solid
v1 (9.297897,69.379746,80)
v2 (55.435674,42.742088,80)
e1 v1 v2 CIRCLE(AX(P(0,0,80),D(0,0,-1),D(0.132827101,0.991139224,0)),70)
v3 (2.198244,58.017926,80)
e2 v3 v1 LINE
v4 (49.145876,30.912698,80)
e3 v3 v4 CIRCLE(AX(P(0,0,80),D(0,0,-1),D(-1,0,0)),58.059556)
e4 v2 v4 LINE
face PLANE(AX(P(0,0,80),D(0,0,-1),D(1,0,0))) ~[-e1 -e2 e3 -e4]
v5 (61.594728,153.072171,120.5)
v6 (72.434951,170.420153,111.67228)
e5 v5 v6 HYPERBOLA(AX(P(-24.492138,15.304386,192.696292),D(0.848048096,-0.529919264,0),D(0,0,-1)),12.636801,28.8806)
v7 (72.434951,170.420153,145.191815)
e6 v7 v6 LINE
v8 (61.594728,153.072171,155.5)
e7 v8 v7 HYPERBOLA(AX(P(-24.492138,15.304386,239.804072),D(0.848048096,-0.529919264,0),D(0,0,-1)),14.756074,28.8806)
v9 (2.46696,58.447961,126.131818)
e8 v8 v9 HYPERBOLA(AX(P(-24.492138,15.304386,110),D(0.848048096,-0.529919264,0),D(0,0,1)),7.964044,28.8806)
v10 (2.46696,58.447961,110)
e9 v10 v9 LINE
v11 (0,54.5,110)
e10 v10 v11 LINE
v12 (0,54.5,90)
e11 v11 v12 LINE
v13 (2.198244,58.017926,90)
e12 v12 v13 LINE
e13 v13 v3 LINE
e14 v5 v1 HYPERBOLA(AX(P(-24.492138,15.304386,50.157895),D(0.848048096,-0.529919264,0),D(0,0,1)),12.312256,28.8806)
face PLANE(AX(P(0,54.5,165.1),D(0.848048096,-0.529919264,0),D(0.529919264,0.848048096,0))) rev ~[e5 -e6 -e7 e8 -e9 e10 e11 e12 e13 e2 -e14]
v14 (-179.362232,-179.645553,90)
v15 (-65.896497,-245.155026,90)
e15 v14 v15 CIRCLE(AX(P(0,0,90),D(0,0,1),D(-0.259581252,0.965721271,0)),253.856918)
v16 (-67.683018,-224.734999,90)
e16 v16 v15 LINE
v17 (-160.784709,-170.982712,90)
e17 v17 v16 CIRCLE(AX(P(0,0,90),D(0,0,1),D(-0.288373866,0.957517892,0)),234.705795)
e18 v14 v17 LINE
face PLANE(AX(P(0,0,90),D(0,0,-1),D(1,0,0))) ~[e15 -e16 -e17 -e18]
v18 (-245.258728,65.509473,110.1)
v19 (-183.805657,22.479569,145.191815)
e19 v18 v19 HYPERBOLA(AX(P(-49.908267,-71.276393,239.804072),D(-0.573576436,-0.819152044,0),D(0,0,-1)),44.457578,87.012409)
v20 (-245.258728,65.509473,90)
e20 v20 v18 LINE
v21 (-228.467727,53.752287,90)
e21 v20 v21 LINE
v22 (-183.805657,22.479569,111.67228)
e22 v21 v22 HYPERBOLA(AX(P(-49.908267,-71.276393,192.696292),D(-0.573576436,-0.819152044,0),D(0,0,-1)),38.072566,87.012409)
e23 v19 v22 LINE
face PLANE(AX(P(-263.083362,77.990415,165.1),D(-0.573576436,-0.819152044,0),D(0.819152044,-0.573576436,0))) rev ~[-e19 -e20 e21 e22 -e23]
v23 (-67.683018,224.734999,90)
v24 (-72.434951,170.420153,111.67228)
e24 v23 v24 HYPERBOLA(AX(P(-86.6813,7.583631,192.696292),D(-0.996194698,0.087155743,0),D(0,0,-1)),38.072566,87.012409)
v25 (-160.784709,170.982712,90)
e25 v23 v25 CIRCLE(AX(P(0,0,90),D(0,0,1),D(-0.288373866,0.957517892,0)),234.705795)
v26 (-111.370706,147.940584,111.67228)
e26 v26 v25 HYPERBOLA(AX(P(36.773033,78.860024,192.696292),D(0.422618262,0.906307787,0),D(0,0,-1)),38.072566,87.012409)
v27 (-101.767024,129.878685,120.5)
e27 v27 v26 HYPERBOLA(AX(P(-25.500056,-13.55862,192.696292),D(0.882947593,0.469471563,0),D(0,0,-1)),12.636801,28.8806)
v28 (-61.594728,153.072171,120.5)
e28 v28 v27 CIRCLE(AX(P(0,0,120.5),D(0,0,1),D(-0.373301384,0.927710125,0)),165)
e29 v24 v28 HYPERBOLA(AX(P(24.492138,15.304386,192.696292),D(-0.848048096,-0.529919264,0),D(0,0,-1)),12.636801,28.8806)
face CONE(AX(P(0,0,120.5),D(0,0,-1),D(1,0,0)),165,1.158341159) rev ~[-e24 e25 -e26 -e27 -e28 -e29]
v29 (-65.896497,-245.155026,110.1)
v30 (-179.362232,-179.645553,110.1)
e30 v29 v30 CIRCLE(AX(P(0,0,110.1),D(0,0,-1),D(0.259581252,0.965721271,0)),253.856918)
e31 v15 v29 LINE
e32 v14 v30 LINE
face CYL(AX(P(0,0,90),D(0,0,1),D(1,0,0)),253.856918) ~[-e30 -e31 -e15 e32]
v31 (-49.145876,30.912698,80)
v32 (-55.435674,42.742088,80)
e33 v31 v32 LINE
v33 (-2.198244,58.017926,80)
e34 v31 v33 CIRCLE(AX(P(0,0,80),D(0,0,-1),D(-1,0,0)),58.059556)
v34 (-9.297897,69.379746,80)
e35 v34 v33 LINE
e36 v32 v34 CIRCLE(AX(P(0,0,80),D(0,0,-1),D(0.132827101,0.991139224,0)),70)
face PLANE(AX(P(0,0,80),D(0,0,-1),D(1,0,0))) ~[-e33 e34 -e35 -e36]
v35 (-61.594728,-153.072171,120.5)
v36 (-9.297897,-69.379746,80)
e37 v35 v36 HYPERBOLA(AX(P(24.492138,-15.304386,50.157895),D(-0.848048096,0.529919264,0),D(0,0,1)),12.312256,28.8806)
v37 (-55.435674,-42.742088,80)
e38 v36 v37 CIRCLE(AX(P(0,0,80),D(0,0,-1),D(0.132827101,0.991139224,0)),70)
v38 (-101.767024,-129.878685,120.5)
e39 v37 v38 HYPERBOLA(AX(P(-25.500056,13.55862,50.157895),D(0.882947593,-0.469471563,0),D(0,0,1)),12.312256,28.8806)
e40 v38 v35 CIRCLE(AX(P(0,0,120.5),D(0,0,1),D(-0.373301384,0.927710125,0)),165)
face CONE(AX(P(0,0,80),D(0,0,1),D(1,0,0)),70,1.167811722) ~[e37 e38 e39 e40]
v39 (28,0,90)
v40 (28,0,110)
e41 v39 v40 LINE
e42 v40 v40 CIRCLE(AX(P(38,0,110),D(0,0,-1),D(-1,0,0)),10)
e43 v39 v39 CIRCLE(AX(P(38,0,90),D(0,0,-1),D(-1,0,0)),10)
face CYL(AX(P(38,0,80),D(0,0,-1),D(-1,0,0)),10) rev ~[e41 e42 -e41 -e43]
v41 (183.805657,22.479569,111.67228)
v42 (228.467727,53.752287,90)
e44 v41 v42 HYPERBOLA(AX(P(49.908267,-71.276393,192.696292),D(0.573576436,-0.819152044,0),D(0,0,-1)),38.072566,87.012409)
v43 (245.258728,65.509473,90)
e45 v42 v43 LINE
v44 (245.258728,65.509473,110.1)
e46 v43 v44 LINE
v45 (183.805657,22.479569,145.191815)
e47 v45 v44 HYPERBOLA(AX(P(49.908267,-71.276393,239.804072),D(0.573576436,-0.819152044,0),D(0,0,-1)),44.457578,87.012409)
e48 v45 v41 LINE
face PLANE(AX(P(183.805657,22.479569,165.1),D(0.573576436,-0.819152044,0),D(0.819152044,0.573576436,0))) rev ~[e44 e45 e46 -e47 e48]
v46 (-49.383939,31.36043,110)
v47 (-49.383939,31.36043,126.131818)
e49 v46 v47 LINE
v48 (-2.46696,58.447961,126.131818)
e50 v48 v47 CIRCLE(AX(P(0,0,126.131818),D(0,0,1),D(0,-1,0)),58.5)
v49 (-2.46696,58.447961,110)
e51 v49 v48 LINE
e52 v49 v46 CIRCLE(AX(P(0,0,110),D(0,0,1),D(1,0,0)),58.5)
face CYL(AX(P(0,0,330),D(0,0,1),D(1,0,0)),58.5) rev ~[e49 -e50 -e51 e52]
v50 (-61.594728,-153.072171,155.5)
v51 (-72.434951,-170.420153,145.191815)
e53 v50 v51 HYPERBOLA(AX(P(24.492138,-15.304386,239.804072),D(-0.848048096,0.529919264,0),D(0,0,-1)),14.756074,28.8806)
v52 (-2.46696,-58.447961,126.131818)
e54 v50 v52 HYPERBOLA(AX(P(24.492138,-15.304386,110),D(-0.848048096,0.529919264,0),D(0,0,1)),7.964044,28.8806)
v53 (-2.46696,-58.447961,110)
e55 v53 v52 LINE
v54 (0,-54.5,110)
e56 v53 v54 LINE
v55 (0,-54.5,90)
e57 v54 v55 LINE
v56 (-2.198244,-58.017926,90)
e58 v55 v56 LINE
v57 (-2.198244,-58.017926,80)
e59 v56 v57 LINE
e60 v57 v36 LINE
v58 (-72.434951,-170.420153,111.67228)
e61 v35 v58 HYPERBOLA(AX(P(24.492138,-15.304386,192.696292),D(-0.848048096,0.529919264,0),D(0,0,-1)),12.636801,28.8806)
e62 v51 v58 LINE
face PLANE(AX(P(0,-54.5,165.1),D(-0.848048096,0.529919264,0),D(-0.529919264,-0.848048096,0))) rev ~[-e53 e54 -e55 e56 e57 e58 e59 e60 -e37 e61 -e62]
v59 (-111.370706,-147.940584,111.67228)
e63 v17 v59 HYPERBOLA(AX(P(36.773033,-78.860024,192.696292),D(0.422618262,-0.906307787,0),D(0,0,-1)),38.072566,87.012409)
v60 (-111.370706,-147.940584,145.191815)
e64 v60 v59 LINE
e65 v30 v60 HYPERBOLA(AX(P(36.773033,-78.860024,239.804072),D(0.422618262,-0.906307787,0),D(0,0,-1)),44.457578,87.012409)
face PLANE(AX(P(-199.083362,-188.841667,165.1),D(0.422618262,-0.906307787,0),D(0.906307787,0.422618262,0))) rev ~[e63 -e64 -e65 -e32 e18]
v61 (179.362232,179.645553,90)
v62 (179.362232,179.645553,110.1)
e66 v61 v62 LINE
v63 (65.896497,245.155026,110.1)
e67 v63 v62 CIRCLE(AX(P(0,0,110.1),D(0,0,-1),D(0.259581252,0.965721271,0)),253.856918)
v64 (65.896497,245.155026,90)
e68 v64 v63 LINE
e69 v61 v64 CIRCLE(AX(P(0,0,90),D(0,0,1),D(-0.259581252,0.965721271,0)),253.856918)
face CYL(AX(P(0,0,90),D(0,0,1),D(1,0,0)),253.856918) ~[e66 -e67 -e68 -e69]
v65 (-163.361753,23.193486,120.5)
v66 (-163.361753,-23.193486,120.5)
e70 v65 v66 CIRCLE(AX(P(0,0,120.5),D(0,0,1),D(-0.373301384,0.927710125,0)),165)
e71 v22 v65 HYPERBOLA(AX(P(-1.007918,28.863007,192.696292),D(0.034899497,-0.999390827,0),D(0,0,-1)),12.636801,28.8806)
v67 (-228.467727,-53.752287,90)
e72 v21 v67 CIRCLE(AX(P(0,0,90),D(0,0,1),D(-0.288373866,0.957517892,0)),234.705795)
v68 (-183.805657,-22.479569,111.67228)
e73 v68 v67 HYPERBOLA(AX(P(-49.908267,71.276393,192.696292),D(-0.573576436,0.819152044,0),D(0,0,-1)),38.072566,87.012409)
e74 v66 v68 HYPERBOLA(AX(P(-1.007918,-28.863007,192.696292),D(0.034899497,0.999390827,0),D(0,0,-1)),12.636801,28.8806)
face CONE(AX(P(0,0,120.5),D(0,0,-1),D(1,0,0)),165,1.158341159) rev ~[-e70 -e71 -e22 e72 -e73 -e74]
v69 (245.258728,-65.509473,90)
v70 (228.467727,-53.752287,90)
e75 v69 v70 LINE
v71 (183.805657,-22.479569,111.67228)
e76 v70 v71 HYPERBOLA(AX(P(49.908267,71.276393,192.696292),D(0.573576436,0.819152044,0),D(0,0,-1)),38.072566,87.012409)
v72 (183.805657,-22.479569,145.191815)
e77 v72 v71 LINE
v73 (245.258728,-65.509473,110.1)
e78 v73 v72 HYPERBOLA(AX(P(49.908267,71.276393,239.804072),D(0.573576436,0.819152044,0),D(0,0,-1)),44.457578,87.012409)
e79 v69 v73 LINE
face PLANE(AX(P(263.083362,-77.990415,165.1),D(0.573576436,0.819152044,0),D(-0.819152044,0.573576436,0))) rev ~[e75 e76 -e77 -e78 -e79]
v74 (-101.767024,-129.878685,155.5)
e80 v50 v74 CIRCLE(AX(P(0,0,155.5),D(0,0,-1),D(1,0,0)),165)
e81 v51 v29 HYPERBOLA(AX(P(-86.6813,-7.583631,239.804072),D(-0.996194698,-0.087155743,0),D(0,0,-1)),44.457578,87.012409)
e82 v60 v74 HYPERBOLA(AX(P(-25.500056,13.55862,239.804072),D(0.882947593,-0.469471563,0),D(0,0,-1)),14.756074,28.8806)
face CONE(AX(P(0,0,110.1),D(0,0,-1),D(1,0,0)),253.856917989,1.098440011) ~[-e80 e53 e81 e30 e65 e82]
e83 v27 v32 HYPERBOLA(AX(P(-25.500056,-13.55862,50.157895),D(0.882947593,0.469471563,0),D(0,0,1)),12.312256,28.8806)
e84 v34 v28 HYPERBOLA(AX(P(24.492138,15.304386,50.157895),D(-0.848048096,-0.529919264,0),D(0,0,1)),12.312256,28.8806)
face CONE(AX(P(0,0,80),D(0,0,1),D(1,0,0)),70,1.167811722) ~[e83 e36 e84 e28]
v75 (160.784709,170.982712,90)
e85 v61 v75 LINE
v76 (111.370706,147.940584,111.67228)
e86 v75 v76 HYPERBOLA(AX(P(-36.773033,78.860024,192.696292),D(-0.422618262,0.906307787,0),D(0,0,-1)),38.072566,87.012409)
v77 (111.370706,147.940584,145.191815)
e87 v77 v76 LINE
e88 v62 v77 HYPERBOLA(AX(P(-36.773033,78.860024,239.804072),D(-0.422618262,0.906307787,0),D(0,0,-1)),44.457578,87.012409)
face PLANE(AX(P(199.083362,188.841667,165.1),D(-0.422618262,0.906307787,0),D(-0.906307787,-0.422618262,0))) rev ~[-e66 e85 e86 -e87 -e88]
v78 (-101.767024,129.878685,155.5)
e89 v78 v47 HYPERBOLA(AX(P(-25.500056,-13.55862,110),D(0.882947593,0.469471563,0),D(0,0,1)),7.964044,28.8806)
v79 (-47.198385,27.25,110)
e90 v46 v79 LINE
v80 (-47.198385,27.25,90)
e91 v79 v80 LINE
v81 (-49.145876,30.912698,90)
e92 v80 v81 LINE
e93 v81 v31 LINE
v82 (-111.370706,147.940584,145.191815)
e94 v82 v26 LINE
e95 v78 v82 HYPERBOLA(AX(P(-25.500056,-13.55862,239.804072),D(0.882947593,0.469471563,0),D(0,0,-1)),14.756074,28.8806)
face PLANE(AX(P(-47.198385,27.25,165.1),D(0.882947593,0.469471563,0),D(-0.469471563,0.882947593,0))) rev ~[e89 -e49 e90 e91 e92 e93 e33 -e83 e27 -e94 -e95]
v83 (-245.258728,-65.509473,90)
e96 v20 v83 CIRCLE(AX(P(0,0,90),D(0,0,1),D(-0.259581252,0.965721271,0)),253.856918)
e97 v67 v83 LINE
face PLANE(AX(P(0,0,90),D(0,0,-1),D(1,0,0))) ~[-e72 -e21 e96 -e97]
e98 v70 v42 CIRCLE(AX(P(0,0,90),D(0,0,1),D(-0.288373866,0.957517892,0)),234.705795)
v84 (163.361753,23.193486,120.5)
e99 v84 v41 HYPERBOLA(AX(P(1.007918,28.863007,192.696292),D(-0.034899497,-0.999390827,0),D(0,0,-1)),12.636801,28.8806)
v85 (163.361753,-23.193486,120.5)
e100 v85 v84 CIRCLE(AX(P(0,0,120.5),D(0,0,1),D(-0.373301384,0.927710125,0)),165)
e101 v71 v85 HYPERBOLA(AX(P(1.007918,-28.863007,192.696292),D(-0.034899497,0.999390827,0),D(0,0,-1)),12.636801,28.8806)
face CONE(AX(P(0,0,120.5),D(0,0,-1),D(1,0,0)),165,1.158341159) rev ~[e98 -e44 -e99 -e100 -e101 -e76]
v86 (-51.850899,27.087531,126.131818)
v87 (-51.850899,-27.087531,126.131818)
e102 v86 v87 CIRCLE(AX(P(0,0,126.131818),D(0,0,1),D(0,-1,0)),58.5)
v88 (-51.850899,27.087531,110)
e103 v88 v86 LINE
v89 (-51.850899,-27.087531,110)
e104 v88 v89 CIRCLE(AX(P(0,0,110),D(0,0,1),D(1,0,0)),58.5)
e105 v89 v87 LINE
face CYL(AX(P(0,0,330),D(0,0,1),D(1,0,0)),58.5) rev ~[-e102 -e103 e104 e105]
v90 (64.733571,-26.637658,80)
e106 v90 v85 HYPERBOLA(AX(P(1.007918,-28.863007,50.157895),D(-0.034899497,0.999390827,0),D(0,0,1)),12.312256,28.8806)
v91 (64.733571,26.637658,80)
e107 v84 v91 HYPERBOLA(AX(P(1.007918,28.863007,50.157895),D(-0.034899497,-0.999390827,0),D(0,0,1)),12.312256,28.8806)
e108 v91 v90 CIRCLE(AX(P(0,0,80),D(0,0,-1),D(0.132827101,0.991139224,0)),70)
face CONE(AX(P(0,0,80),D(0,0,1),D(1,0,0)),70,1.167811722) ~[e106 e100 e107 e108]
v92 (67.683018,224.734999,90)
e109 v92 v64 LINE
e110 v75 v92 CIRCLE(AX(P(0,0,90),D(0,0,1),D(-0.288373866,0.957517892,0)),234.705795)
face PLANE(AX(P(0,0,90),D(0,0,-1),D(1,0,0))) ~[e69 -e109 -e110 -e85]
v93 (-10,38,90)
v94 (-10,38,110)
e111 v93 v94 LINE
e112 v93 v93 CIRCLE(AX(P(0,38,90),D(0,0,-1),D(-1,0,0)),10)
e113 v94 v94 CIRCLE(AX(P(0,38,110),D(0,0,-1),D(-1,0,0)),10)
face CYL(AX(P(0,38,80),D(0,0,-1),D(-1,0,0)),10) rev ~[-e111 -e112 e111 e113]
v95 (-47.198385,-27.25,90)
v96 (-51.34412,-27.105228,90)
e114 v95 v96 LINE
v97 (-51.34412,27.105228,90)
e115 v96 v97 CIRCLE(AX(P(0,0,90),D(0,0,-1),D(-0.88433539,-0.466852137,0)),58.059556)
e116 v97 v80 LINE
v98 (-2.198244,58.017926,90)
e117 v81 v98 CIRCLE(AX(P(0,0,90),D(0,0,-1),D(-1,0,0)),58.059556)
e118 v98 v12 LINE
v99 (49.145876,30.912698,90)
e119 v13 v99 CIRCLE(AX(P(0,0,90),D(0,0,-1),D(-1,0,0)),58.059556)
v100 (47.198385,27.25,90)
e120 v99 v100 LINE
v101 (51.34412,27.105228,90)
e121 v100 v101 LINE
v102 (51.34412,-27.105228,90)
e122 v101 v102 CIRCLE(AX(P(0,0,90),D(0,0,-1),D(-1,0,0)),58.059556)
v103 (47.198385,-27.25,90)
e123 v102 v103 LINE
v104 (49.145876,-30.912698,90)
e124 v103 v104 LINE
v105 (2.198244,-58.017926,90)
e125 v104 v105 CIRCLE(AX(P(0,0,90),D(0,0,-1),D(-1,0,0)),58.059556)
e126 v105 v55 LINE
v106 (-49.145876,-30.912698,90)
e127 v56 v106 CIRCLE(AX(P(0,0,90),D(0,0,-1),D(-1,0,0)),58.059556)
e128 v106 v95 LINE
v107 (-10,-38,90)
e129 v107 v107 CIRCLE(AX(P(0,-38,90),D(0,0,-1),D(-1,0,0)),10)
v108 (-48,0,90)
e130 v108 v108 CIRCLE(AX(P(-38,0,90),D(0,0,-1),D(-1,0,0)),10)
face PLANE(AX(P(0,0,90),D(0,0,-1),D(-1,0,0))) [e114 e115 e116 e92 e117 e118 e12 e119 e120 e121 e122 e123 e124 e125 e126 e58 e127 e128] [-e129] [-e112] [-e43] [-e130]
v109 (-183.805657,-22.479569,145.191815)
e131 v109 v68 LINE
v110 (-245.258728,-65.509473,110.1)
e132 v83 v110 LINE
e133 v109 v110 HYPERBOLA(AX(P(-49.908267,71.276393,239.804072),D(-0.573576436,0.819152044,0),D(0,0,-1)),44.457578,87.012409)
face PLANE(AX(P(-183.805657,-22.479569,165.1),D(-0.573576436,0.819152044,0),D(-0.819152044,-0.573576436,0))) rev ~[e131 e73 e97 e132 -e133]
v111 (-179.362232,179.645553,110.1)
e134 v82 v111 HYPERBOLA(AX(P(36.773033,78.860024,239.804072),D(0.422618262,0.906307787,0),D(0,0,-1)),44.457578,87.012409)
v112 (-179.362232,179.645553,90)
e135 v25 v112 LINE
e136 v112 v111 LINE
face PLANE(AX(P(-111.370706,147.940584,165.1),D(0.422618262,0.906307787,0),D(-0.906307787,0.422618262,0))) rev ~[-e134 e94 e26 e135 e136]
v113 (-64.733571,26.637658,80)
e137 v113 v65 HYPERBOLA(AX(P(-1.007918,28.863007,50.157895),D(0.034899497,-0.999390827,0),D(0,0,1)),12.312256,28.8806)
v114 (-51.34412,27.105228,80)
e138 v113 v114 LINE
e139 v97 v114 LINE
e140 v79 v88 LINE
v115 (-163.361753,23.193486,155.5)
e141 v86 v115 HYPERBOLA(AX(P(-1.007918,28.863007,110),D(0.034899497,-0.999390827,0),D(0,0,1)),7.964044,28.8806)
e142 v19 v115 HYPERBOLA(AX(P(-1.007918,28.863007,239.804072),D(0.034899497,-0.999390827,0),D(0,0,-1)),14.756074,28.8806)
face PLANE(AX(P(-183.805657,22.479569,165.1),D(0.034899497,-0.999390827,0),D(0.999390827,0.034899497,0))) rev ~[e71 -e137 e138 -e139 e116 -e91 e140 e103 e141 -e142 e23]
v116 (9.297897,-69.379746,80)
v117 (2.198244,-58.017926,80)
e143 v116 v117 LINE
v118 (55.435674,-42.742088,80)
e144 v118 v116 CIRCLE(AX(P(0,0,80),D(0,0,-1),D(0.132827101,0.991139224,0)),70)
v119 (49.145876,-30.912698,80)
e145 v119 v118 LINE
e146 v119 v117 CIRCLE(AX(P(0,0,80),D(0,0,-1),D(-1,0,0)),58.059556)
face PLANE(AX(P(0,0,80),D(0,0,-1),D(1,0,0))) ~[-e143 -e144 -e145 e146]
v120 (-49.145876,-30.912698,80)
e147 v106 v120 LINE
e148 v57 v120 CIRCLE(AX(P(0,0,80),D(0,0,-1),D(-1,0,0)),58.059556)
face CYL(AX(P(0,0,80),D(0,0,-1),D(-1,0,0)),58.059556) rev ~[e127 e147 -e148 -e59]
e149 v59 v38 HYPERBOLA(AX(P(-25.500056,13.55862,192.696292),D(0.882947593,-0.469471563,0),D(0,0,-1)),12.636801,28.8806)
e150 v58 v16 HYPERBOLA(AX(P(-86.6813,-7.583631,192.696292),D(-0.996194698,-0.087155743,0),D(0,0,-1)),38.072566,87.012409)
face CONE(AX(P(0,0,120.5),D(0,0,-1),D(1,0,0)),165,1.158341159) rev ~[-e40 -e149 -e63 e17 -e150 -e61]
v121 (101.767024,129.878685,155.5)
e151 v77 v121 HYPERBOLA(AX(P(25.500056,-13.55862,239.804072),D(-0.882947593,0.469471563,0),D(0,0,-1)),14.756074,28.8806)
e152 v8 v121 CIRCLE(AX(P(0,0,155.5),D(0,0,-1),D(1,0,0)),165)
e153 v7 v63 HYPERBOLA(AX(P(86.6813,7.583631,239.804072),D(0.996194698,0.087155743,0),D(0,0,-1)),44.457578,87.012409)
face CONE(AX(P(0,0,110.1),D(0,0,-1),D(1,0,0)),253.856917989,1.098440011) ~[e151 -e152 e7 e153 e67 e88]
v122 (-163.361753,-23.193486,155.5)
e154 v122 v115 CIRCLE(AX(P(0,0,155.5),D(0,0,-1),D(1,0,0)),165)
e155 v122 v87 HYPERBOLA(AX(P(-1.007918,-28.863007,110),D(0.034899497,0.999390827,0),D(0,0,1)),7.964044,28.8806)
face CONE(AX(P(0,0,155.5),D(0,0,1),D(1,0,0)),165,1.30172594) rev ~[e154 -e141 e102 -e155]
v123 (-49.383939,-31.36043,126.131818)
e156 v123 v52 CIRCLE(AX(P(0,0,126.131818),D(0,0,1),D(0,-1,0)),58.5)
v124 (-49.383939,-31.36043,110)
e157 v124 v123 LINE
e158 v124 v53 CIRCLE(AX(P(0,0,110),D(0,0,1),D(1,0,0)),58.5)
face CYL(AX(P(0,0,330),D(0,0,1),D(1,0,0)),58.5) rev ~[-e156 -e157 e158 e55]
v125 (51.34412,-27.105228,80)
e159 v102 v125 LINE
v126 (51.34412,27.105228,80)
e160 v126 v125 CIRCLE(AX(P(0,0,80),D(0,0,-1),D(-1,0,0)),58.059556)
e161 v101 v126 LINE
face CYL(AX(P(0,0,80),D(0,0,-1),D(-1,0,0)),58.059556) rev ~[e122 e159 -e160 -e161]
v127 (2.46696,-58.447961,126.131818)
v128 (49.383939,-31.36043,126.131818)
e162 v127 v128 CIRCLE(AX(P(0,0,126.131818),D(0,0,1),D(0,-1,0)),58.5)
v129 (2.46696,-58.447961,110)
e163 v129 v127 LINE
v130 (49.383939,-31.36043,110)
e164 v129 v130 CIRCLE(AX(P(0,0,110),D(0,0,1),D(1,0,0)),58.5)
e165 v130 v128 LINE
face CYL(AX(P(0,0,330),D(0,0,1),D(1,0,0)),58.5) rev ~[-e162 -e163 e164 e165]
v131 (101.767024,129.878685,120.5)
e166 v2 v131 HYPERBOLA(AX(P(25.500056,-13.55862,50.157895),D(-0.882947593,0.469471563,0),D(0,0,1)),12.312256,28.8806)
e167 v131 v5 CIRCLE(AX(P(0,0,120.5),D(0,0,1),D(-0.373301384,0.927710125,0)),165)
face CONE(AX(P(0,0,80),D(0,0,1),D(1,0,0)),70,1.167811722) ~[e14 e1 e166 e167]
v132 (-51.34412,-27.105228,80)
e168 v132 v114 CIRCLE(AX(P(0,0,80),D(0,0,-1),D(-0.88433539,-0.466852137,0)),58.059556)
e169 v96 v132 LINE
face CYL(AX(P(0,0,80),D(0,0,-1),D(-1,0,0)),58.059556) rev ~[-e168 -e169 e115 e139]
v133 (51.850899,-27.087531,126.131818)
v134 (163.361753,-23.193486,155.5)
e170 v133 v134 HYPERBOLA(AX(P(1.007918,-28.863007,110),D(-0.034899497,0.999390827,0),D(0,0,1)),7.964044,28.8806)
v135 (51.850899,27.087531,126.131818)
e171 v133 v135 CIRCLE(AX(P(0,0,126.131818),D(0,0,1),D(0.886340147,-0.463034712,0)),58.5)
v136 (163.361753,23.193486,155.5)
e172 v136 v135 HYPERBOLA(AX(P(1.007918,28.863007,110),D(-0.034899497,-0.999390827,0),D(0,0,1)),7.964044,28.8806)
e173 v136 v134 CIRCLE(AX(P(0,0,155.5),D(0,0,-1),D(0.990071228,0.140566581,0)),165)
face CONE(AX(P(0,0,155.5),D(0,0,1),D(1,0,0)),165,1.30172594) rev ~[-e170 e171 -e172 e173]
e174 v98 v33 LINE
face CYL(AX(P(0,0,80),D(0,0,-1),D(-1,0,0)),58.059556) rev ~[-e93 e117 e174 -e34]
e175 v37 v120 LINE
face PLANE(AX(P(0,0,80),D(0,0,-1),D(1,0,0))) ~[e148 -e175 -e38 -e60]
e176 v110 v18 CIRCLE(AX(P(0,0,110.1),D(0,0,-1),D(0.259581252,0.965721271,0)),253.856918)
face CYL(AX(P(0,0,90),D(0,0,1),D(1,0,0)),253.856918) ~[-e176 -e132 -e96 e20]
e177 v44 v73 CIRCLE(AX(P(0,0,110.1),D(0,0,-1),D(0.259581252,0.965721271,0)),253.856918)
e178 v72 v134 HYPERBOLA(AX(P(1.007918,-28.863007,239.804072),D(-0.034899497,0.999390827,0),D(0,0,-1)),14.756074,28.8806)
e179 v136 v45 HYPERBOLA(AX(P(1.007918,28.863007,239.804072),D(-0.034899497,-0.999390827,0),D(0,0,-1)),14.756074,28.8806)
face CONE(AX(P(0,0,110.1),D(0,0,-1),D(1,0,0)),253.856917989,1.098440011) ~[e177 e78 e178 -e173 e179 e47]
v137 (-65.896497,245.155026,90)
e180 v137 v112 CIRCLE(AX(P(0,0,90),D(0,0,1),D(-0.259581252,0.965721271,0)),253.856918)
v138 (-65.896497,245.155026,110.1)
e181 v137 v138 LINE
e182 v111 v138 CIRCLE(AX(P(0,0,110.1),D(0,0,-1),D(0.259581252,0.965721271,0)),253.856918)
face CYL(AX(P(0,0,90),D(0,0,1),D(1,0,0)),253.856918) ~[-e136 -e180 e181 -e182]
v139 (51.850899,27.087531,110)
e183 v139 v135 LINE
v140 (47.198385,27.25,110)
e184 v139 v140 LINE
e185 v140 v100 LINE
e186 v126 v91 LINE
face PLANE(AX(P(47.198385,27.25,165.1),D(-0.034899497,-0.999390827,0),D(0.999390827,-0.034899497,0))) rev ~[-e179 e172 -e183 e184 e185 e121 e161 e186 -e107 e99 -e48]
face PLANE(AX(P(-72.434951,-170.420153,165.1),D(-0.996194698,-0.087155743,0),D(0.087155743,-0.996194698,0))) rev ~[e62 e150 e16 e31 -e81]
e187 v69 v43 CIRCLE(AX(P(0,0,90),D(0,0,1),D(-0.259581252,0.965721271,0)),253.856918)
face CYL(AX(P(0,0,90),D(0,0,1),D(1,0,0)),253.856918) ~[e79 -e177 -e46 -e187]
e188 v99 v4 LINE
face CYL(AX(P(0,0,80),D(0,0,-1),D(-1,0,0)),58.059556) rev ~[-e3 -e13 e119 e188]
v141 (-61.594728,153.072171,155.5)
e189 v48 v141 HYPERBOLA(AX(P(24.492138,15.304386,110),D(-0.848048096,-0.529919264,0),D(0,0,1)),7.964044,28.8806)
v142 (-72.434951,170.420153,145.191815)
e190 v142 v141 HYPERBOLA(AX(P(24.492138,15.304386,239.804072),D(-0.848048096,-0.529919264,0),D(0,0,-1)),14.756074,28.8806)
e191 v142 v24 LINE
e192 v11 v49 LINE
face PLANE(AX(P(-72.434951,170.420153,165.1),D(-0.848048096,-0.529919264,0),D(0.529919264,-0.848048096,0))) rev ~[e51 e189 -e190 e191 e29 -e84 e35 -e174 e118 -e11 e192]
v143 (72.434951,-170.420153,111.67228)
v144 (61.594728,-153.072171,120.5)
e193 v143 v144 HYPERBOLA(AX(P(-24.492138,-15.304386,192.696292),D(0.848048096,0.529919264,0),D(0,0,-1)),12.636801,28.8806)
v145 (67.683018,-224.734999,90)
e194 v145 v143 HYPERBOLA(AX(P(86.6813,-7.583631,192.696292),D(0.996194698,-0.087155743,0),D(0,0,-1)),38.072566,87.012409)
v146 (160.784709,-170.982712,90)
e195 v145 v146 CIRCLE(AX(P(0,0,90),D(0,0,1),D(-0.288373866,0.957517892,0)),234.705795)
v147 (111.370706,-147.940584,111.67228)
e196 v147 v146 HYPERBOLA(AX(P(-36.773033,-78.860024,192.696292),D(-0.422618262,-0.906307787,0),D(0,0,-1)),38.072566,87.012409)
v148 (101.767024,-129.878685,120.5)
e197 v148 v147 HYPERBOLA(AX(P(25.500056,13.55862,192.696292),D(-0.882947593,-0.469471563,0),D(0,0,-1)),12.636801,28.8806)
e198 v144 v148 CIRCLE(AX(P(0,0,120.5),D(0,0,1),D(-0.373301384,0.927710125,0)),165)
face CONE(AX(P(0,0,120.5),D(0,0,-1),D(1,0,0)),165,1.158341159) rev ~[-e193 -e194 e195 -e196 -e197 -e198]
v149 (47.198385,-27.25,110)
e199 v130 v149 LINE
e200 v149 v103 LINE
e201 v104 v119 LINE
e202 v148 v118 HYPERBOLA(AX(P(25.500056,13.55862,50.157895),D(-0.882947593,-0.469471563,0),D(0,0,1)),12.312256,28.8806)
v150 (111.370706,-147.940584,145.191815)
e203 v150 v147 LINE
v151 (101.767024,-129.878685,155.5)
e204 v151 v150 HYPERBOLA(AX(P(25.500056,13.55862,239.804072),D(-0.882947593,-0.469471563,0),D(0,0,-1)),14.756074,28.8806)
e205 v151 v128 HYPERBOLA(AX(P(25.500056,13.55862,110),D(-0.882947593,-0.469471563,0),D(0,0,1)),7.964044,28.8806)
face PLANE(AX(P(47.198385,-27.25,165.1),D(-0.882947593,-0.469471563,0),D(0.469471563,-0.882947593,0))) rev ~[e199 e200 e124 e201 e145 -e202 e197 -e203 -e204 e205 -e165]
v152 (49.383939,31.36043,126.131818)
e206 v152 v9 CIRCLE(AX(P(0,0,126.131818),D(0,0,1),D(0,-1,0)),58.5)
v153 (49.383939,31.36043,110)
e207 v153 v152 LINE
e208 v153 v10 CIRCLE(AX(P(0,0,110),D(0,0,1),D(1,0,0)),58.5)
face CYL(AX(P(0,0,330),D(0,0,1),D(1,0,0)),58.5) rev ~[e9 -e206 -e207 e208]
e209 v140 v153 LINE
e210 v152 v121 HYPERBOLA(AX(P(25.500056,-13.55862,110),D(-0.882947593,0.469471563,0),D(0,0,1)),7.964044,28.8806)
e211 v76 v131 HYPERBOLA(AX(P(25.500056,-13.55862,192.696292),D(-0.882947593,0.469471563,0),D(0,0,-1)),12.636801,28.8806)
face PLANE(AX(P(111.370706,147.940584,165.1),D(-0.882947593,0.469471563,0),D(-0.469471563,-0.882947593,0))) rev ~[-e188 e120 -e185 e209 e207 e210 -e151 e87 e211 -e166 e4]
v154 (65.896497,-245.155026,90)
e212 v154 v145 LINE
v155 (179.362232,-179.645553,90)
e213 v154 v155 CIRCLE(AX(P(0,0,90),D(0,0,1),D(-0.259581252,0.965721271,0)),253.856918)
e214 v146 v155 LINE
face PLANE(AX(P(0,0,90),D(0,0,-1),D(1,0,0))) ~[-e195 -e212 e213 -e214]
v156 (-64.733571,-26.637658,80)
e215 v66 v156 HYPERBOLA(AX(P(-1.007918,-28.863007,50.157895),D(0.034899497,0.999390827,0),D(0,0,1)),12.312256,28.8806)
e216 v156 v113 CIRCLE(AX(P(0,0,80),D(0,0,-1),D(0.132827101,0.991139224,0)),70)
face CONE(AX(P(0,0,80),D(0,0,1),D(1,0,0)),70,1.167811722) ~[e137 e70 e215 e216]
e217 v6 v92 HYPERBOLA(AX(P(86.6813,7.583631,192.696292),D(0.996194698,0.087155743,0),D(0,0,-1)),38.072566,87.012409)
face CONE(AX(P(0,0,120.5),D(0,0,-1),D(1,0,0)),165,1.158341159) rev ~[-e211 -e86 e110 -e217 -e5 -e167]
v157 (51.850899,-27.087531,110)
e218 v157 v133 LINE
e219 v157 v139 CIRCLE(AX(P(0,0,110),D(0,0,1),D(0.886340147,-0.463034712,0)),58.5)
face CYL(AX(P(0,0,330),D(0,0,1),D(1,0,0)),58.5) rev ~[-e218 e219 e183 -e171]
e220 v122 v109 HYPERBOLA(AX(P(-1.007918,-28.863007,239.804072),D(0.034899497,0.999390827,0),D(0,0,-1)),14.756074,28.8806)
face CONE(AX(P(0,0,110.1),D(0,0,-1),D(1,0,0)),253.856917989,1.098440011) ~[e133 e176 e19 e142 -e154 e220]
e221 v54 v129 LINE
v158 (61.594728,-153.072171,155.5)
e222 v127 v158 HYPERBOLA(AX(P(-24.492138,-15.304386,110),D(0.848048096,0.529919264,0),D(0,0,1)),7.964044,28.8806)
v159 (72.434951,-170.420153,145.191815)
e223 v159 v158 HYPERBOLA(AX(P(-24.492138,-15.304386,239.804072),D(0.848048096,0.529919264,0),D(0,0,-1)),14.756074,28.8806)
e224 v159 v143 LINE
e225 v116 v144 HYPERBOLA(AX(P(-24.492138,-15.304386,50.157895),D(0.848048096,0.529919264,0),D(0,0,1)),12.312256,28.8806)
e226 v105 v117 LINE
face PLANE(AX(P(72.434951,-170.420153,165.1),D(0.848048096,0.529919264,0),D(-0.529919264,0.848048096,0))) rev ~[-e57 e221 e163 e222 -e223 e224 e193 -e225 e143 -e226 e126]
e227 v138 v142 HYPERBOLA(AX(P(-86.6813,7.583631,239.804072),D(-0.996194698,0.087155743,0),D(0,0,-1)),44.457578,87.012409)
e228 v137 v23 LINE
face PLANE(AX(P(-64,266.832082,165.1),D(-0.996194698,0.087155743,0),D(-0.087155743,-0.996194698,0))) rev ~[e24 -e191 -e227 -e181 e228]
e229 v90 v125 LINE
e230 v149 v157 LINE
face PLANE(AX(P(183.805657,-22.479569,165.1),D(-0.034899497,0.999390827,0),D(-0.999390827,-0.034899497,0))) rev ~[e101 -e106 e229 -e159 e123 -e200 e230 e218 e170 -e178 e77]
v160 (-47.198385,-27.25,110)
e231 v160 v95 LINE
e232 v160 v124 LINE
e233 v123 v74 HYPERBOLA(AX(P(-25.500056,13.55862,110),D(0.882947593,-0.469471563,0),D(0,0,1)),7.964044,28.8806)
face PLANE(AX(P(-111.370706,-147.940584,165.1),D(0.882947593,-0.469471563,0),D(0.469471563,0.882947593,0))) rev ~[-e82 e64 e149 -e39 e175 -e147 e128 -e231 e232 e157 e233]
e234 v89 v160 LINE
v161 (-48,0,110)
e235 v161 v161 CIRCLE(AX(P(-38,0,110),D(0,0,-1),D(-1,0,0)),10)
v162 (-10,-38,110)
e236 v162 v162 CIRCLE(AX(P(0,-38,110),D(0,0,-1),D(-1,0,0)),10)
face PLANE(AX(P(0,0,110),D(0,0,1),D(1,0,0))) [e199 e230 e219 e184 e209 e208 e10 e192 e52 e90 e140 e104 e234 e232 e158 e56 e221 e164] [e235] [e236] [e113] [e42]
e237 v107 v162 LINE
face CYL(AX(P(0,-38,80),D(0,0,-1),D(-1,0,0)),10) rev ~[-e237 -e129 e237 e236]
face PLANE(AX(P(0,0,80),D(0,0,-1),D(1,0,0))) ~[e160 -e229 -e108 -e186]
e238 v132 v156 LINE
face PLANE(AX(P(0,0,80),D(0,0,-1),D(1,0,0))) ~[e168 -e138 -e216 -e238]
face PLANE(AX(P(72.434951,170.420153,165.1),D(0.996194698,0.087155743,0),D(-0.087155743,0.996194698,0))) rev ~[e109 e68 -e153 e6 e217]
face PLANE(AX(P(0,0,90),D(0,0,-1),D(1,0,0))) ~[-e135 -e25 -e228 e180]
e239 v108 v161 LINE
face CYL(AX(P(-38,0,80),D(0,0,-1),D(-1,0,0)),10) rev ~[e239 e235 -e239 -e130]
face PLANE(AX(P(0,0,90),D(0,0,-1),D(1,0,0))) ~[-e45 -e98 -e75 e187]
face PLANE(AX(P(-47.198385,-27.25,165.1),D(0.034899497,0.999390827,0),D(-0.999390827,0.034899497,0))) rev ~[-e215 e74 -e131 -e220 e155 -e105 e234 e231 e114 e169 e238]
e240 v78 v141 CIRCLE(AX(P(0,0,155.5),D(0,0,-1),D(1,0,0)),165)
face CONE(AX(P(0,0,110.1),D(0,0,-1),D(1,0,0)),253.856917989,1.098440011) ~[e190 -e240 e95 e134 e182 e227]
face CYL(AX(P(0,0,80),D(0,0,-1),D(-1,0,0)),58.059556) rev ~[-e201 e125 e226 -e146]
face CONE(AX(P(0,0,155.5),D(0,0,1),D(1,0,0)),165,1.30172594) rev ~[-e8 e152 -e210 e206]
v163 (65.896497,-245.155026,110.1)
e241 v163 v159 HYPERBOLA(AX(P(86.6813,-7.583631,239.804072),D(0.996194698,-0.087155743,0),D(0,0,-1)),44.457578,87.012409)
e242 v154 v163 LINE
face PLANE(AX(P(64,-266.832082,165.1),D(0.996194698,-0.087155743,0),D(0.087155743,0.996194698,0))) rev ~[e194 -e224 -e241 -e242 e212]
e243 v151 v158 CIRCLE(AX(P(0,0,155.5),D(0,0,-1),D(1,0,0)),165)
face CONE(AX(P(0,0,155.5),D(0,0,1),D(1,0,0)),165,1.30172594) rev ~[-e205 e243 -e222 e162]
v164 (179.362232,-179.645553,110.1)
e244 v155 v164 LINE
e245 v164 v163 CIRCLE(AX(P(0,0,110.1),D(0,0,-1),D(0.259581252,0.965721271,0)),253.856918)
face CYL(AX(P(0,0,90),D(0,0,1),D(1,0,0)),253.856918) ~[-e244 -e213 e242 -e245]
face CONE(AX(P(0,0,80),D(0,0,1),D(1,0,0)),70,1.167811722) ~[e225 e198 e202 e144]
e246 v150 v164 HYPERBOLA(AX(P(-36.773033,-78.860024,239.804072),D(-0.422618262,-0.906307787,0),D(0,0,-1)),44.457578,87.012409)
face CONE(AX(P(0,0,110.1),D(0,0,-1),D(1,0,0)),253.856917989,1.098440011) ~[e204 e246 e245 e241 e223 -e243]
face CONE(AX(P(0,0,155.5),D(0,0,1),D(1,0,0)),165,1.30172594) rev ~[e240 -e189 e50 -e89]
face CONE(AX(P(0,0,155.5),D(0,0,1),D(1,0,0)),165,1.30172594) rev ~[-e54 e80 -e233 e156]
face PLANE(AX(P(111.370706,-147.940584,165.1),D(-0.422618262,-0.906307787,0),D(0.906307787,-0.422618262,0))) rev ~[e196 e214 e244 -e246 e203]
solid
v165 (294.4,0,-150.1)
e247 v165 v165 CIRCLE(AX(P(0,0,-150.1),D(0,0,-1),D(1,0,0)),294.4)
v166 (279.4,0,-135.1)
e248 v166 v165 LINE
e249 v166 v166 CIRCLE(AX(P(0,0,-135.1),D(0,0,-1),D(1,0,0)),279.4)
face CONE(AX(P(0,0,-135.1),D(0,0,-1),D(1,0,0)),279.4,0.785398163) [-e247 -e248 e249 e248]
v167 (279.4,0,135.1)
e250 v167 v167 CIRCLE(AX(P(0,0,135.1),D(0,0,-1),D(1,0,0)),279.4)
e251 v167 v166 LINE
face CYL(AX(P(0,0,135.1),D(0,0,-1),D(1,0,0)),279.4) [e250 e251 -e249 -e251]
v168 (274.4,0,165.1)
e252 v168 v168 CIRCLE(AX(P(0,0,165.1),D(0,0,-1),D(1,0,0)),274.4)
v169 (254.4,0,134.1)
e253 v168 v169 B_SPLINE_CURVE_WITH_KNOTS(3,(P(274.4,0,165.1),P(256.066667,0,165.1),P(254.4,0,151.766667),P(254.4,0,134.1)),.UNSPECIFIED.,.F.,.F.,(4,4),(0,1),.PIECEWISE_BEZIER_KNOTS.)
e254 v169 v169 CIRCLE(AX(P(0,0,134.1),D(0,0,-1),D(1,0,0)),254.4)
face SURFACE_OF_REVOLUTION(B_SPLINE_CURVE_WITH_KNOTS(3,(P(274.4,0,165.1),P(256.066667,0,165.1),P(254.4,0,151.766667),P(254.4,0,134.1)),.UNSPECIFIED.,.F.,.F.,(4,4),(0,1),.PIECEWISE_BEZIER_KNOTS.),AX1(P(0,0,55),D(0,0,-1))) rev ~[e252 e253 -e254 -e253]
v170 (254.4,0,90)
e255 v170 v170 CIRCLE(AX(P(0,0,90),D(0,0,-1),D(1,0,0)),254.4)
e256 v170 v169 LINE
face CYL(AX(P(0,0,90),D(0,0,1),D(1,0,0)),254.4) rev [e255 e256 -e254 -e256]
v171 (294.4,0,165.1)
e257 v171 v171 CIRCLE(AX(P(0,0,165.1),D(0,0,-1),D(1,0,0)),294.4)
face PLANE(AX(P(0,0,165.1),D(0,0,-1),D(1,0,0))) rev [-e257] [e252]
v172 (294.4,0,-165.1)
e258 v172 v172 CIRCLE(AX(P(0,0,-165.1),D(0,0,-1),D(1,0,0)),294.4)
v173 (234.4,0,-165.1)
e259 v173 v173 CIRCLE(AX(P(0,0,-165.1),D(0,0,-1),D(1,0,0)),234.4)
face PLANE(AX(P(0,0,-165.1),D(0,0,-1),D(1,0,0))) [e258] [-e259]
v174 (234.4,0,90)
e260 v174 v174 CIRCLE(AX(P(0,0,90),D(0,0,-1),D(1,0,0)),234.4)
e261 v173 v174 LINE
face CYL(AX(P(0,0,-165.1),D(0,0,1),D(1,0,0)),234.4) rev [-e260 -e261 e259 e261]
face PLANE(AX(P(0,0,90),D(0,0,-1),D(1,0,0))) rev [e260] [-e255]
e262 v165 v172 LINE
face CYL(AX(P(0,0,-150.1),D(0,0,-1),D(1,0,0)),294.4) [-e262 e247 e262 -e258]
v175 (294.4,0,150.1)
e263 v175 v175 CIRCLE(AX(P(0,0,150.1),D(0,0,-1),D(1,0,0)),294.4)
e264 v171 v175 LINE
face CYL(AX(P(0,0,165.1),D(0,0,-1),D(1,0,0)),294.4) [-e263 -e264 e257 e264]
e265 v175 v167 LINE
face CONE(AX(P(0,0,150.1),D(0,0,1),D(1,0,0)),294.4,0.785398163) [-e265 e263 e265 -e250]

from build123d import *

# Parameters (mm, degrees)
CUT_EXTRUDE1_DEPTH = 532.389461695
CIRPATTERN1_COUNT  = 6
SKETCH4_R          = 10
CUT_EXTRUDE2_DEPTH = 484.132207579
SKETCH6_R          = 58.059555866
CUT_EXTRUDE3_DEPTH = 10
SKETCH8_R          = 58.5
CUT_EXTRUDE4_DEPTH = 220


with BuildPart() as part:
    # Sketch1 → Revolve2 (revolve)
    with BuildSketch(Plane(origin=(0, 0, 0), x_dir=(0, 0, -1), z_dir=(1, 0, 0)), mode=Mode.PRIVATE) as revolve2_sk:
        with BuildLine():
            Line((-135.1, 279.4), (135.1, 279.4))
            Line((135.1, 279.4), (150.1, 294.4))
            Line((150.1, 294.4), (165.1, 294.4))
            Line((165.1, 294.4), (165.1, 234.4))
            Line((165.1, 234.4), (0, 234.4))
            Line((0, 234.4), (-90, 234.4))
            Line((-90, 234.4), (-90, 254.4))
            Line((-90, 254.4), (-134.1, 254.4))
            add(Edge.make_bspline(
                [(-165.1, 274.4), (-165.1, 256.066666667), (-151.766666667, 254.4), (-134.1, 254.4)],
                knots=[0, 0, 0, 0, 1, 1, 1, 1], degree=3))
            Line((-165.1, 274.4), (-165.1, 294.4))
            Line((-165.1, 294.4), (-150.1, 294.4))
            Line((-150.1, 294.4), (-135.1, 279.4))
        make_face()
    revolve(revolve2_sk.sketch.rotate(Axis((0, 0, 55), (0, 0, -1)), 90), axis=Axis((0, 0, 55), (0, 0, -1)))


with BuildPart() as body_2:
    # Sketch2 → Revolve3 (revolve)
    with BuildSketch(Plane(origin=(0, 0, 0), x_dir=(0, 0, -1), z_dir=(1, 0, 0)), mode=Mode.PRIVATE) as revolve3_sk:
        Polygon((-90, 253.856917989), (-110.1, 253.856917989), (-155.5, 165), (-110, 0), (-80, 0), (-80, 70), (-120.5, 165), (-90, 234.705795499), align=None)
    revolve(revolve3_sk.sketch.rotate(Axis((0, 0, 55), (0, 0, -1)), 90), axis=Axis((0, 0, 55), (0, 0, -1)))

    # Sketch3 → Cut-Extrude1 (cut, through all)
    with BuildSketch(Plane.XY.offset(165.1)):
        with BuildLine():
            Line((-72.434950826, 170.420152916), (0, 54.5))
            Line((0, 54.5), (72.434950826, 170.420152916))
            Line((72.434950826, 170.420152916), (64, 266.832082029))
            ThreePointArc((64, 266.832082029), (0, 274.4), (-64, 266.832082029))
            Line((-64, 266.832082029), (-72.434950826, 170.420152916))
        make_face()
    cut_extrude1 = extrude(amount=-CUT_EXTRUDE1_DEPTH, mode=Mode.SUBTRACT)

    # CirPattern1: Cut-Extrude1 ×6 about axis
    cirpattern1_axis = Axis((0, 0, 0), (0, 0, 1))
    for i in range(1, CIRPATTERN1_COUNT):
        add(cut_extrude1.rotate(cirpattern1_axis, i * 360 / CIRPATTERN1_COUNT), mode=Mode.SUBTRACT)

    # Sketch4 → Cut-Extrude2 (cut, through all)
    with BuildSketch(Plane(origin=(0, 0, 80), x_dir=(-1, 0, 0), z_dir=(0, 0, -1))):
        with Locations((-38, 0)):
            Circle(SKETCH4_R)
        with Locations((0, 38)):
            Circle(SKETCH4_R)
        with Locations((38, 0)):
            Circle(SKETCH4_R)
        with Locations((0, -38)):
            Circle(SKETCH4_R)
    extrude(amount=-CUT_EXTRUDE2_DEPTH, mode=Mode.SUBTRACT)

    # Sketch6 → Cut-Extrude3 (cut)
    with BuildSketch(Plane(origin=(0, 0, 80), x_dir=(-1, 0, 0), z_dir=(0, 0, -1))):
        Circle(SKETCH6_R)
    extrude(amount=-CUT_EXTRUDE3_DEPTH, mode=Mode.SUBTRACT)

    # Sketch8 → Cut-Extrude4 (cut)
    with BuildSketch(Plane.XY.offset(330)):
        Circle(SKETCH8_R)
    extrude(amount=-CUT_EXTRUDE4_DEPTH, mode=Mode.SUBTRACT)


solid = Compound([part.part, body_2.part])
